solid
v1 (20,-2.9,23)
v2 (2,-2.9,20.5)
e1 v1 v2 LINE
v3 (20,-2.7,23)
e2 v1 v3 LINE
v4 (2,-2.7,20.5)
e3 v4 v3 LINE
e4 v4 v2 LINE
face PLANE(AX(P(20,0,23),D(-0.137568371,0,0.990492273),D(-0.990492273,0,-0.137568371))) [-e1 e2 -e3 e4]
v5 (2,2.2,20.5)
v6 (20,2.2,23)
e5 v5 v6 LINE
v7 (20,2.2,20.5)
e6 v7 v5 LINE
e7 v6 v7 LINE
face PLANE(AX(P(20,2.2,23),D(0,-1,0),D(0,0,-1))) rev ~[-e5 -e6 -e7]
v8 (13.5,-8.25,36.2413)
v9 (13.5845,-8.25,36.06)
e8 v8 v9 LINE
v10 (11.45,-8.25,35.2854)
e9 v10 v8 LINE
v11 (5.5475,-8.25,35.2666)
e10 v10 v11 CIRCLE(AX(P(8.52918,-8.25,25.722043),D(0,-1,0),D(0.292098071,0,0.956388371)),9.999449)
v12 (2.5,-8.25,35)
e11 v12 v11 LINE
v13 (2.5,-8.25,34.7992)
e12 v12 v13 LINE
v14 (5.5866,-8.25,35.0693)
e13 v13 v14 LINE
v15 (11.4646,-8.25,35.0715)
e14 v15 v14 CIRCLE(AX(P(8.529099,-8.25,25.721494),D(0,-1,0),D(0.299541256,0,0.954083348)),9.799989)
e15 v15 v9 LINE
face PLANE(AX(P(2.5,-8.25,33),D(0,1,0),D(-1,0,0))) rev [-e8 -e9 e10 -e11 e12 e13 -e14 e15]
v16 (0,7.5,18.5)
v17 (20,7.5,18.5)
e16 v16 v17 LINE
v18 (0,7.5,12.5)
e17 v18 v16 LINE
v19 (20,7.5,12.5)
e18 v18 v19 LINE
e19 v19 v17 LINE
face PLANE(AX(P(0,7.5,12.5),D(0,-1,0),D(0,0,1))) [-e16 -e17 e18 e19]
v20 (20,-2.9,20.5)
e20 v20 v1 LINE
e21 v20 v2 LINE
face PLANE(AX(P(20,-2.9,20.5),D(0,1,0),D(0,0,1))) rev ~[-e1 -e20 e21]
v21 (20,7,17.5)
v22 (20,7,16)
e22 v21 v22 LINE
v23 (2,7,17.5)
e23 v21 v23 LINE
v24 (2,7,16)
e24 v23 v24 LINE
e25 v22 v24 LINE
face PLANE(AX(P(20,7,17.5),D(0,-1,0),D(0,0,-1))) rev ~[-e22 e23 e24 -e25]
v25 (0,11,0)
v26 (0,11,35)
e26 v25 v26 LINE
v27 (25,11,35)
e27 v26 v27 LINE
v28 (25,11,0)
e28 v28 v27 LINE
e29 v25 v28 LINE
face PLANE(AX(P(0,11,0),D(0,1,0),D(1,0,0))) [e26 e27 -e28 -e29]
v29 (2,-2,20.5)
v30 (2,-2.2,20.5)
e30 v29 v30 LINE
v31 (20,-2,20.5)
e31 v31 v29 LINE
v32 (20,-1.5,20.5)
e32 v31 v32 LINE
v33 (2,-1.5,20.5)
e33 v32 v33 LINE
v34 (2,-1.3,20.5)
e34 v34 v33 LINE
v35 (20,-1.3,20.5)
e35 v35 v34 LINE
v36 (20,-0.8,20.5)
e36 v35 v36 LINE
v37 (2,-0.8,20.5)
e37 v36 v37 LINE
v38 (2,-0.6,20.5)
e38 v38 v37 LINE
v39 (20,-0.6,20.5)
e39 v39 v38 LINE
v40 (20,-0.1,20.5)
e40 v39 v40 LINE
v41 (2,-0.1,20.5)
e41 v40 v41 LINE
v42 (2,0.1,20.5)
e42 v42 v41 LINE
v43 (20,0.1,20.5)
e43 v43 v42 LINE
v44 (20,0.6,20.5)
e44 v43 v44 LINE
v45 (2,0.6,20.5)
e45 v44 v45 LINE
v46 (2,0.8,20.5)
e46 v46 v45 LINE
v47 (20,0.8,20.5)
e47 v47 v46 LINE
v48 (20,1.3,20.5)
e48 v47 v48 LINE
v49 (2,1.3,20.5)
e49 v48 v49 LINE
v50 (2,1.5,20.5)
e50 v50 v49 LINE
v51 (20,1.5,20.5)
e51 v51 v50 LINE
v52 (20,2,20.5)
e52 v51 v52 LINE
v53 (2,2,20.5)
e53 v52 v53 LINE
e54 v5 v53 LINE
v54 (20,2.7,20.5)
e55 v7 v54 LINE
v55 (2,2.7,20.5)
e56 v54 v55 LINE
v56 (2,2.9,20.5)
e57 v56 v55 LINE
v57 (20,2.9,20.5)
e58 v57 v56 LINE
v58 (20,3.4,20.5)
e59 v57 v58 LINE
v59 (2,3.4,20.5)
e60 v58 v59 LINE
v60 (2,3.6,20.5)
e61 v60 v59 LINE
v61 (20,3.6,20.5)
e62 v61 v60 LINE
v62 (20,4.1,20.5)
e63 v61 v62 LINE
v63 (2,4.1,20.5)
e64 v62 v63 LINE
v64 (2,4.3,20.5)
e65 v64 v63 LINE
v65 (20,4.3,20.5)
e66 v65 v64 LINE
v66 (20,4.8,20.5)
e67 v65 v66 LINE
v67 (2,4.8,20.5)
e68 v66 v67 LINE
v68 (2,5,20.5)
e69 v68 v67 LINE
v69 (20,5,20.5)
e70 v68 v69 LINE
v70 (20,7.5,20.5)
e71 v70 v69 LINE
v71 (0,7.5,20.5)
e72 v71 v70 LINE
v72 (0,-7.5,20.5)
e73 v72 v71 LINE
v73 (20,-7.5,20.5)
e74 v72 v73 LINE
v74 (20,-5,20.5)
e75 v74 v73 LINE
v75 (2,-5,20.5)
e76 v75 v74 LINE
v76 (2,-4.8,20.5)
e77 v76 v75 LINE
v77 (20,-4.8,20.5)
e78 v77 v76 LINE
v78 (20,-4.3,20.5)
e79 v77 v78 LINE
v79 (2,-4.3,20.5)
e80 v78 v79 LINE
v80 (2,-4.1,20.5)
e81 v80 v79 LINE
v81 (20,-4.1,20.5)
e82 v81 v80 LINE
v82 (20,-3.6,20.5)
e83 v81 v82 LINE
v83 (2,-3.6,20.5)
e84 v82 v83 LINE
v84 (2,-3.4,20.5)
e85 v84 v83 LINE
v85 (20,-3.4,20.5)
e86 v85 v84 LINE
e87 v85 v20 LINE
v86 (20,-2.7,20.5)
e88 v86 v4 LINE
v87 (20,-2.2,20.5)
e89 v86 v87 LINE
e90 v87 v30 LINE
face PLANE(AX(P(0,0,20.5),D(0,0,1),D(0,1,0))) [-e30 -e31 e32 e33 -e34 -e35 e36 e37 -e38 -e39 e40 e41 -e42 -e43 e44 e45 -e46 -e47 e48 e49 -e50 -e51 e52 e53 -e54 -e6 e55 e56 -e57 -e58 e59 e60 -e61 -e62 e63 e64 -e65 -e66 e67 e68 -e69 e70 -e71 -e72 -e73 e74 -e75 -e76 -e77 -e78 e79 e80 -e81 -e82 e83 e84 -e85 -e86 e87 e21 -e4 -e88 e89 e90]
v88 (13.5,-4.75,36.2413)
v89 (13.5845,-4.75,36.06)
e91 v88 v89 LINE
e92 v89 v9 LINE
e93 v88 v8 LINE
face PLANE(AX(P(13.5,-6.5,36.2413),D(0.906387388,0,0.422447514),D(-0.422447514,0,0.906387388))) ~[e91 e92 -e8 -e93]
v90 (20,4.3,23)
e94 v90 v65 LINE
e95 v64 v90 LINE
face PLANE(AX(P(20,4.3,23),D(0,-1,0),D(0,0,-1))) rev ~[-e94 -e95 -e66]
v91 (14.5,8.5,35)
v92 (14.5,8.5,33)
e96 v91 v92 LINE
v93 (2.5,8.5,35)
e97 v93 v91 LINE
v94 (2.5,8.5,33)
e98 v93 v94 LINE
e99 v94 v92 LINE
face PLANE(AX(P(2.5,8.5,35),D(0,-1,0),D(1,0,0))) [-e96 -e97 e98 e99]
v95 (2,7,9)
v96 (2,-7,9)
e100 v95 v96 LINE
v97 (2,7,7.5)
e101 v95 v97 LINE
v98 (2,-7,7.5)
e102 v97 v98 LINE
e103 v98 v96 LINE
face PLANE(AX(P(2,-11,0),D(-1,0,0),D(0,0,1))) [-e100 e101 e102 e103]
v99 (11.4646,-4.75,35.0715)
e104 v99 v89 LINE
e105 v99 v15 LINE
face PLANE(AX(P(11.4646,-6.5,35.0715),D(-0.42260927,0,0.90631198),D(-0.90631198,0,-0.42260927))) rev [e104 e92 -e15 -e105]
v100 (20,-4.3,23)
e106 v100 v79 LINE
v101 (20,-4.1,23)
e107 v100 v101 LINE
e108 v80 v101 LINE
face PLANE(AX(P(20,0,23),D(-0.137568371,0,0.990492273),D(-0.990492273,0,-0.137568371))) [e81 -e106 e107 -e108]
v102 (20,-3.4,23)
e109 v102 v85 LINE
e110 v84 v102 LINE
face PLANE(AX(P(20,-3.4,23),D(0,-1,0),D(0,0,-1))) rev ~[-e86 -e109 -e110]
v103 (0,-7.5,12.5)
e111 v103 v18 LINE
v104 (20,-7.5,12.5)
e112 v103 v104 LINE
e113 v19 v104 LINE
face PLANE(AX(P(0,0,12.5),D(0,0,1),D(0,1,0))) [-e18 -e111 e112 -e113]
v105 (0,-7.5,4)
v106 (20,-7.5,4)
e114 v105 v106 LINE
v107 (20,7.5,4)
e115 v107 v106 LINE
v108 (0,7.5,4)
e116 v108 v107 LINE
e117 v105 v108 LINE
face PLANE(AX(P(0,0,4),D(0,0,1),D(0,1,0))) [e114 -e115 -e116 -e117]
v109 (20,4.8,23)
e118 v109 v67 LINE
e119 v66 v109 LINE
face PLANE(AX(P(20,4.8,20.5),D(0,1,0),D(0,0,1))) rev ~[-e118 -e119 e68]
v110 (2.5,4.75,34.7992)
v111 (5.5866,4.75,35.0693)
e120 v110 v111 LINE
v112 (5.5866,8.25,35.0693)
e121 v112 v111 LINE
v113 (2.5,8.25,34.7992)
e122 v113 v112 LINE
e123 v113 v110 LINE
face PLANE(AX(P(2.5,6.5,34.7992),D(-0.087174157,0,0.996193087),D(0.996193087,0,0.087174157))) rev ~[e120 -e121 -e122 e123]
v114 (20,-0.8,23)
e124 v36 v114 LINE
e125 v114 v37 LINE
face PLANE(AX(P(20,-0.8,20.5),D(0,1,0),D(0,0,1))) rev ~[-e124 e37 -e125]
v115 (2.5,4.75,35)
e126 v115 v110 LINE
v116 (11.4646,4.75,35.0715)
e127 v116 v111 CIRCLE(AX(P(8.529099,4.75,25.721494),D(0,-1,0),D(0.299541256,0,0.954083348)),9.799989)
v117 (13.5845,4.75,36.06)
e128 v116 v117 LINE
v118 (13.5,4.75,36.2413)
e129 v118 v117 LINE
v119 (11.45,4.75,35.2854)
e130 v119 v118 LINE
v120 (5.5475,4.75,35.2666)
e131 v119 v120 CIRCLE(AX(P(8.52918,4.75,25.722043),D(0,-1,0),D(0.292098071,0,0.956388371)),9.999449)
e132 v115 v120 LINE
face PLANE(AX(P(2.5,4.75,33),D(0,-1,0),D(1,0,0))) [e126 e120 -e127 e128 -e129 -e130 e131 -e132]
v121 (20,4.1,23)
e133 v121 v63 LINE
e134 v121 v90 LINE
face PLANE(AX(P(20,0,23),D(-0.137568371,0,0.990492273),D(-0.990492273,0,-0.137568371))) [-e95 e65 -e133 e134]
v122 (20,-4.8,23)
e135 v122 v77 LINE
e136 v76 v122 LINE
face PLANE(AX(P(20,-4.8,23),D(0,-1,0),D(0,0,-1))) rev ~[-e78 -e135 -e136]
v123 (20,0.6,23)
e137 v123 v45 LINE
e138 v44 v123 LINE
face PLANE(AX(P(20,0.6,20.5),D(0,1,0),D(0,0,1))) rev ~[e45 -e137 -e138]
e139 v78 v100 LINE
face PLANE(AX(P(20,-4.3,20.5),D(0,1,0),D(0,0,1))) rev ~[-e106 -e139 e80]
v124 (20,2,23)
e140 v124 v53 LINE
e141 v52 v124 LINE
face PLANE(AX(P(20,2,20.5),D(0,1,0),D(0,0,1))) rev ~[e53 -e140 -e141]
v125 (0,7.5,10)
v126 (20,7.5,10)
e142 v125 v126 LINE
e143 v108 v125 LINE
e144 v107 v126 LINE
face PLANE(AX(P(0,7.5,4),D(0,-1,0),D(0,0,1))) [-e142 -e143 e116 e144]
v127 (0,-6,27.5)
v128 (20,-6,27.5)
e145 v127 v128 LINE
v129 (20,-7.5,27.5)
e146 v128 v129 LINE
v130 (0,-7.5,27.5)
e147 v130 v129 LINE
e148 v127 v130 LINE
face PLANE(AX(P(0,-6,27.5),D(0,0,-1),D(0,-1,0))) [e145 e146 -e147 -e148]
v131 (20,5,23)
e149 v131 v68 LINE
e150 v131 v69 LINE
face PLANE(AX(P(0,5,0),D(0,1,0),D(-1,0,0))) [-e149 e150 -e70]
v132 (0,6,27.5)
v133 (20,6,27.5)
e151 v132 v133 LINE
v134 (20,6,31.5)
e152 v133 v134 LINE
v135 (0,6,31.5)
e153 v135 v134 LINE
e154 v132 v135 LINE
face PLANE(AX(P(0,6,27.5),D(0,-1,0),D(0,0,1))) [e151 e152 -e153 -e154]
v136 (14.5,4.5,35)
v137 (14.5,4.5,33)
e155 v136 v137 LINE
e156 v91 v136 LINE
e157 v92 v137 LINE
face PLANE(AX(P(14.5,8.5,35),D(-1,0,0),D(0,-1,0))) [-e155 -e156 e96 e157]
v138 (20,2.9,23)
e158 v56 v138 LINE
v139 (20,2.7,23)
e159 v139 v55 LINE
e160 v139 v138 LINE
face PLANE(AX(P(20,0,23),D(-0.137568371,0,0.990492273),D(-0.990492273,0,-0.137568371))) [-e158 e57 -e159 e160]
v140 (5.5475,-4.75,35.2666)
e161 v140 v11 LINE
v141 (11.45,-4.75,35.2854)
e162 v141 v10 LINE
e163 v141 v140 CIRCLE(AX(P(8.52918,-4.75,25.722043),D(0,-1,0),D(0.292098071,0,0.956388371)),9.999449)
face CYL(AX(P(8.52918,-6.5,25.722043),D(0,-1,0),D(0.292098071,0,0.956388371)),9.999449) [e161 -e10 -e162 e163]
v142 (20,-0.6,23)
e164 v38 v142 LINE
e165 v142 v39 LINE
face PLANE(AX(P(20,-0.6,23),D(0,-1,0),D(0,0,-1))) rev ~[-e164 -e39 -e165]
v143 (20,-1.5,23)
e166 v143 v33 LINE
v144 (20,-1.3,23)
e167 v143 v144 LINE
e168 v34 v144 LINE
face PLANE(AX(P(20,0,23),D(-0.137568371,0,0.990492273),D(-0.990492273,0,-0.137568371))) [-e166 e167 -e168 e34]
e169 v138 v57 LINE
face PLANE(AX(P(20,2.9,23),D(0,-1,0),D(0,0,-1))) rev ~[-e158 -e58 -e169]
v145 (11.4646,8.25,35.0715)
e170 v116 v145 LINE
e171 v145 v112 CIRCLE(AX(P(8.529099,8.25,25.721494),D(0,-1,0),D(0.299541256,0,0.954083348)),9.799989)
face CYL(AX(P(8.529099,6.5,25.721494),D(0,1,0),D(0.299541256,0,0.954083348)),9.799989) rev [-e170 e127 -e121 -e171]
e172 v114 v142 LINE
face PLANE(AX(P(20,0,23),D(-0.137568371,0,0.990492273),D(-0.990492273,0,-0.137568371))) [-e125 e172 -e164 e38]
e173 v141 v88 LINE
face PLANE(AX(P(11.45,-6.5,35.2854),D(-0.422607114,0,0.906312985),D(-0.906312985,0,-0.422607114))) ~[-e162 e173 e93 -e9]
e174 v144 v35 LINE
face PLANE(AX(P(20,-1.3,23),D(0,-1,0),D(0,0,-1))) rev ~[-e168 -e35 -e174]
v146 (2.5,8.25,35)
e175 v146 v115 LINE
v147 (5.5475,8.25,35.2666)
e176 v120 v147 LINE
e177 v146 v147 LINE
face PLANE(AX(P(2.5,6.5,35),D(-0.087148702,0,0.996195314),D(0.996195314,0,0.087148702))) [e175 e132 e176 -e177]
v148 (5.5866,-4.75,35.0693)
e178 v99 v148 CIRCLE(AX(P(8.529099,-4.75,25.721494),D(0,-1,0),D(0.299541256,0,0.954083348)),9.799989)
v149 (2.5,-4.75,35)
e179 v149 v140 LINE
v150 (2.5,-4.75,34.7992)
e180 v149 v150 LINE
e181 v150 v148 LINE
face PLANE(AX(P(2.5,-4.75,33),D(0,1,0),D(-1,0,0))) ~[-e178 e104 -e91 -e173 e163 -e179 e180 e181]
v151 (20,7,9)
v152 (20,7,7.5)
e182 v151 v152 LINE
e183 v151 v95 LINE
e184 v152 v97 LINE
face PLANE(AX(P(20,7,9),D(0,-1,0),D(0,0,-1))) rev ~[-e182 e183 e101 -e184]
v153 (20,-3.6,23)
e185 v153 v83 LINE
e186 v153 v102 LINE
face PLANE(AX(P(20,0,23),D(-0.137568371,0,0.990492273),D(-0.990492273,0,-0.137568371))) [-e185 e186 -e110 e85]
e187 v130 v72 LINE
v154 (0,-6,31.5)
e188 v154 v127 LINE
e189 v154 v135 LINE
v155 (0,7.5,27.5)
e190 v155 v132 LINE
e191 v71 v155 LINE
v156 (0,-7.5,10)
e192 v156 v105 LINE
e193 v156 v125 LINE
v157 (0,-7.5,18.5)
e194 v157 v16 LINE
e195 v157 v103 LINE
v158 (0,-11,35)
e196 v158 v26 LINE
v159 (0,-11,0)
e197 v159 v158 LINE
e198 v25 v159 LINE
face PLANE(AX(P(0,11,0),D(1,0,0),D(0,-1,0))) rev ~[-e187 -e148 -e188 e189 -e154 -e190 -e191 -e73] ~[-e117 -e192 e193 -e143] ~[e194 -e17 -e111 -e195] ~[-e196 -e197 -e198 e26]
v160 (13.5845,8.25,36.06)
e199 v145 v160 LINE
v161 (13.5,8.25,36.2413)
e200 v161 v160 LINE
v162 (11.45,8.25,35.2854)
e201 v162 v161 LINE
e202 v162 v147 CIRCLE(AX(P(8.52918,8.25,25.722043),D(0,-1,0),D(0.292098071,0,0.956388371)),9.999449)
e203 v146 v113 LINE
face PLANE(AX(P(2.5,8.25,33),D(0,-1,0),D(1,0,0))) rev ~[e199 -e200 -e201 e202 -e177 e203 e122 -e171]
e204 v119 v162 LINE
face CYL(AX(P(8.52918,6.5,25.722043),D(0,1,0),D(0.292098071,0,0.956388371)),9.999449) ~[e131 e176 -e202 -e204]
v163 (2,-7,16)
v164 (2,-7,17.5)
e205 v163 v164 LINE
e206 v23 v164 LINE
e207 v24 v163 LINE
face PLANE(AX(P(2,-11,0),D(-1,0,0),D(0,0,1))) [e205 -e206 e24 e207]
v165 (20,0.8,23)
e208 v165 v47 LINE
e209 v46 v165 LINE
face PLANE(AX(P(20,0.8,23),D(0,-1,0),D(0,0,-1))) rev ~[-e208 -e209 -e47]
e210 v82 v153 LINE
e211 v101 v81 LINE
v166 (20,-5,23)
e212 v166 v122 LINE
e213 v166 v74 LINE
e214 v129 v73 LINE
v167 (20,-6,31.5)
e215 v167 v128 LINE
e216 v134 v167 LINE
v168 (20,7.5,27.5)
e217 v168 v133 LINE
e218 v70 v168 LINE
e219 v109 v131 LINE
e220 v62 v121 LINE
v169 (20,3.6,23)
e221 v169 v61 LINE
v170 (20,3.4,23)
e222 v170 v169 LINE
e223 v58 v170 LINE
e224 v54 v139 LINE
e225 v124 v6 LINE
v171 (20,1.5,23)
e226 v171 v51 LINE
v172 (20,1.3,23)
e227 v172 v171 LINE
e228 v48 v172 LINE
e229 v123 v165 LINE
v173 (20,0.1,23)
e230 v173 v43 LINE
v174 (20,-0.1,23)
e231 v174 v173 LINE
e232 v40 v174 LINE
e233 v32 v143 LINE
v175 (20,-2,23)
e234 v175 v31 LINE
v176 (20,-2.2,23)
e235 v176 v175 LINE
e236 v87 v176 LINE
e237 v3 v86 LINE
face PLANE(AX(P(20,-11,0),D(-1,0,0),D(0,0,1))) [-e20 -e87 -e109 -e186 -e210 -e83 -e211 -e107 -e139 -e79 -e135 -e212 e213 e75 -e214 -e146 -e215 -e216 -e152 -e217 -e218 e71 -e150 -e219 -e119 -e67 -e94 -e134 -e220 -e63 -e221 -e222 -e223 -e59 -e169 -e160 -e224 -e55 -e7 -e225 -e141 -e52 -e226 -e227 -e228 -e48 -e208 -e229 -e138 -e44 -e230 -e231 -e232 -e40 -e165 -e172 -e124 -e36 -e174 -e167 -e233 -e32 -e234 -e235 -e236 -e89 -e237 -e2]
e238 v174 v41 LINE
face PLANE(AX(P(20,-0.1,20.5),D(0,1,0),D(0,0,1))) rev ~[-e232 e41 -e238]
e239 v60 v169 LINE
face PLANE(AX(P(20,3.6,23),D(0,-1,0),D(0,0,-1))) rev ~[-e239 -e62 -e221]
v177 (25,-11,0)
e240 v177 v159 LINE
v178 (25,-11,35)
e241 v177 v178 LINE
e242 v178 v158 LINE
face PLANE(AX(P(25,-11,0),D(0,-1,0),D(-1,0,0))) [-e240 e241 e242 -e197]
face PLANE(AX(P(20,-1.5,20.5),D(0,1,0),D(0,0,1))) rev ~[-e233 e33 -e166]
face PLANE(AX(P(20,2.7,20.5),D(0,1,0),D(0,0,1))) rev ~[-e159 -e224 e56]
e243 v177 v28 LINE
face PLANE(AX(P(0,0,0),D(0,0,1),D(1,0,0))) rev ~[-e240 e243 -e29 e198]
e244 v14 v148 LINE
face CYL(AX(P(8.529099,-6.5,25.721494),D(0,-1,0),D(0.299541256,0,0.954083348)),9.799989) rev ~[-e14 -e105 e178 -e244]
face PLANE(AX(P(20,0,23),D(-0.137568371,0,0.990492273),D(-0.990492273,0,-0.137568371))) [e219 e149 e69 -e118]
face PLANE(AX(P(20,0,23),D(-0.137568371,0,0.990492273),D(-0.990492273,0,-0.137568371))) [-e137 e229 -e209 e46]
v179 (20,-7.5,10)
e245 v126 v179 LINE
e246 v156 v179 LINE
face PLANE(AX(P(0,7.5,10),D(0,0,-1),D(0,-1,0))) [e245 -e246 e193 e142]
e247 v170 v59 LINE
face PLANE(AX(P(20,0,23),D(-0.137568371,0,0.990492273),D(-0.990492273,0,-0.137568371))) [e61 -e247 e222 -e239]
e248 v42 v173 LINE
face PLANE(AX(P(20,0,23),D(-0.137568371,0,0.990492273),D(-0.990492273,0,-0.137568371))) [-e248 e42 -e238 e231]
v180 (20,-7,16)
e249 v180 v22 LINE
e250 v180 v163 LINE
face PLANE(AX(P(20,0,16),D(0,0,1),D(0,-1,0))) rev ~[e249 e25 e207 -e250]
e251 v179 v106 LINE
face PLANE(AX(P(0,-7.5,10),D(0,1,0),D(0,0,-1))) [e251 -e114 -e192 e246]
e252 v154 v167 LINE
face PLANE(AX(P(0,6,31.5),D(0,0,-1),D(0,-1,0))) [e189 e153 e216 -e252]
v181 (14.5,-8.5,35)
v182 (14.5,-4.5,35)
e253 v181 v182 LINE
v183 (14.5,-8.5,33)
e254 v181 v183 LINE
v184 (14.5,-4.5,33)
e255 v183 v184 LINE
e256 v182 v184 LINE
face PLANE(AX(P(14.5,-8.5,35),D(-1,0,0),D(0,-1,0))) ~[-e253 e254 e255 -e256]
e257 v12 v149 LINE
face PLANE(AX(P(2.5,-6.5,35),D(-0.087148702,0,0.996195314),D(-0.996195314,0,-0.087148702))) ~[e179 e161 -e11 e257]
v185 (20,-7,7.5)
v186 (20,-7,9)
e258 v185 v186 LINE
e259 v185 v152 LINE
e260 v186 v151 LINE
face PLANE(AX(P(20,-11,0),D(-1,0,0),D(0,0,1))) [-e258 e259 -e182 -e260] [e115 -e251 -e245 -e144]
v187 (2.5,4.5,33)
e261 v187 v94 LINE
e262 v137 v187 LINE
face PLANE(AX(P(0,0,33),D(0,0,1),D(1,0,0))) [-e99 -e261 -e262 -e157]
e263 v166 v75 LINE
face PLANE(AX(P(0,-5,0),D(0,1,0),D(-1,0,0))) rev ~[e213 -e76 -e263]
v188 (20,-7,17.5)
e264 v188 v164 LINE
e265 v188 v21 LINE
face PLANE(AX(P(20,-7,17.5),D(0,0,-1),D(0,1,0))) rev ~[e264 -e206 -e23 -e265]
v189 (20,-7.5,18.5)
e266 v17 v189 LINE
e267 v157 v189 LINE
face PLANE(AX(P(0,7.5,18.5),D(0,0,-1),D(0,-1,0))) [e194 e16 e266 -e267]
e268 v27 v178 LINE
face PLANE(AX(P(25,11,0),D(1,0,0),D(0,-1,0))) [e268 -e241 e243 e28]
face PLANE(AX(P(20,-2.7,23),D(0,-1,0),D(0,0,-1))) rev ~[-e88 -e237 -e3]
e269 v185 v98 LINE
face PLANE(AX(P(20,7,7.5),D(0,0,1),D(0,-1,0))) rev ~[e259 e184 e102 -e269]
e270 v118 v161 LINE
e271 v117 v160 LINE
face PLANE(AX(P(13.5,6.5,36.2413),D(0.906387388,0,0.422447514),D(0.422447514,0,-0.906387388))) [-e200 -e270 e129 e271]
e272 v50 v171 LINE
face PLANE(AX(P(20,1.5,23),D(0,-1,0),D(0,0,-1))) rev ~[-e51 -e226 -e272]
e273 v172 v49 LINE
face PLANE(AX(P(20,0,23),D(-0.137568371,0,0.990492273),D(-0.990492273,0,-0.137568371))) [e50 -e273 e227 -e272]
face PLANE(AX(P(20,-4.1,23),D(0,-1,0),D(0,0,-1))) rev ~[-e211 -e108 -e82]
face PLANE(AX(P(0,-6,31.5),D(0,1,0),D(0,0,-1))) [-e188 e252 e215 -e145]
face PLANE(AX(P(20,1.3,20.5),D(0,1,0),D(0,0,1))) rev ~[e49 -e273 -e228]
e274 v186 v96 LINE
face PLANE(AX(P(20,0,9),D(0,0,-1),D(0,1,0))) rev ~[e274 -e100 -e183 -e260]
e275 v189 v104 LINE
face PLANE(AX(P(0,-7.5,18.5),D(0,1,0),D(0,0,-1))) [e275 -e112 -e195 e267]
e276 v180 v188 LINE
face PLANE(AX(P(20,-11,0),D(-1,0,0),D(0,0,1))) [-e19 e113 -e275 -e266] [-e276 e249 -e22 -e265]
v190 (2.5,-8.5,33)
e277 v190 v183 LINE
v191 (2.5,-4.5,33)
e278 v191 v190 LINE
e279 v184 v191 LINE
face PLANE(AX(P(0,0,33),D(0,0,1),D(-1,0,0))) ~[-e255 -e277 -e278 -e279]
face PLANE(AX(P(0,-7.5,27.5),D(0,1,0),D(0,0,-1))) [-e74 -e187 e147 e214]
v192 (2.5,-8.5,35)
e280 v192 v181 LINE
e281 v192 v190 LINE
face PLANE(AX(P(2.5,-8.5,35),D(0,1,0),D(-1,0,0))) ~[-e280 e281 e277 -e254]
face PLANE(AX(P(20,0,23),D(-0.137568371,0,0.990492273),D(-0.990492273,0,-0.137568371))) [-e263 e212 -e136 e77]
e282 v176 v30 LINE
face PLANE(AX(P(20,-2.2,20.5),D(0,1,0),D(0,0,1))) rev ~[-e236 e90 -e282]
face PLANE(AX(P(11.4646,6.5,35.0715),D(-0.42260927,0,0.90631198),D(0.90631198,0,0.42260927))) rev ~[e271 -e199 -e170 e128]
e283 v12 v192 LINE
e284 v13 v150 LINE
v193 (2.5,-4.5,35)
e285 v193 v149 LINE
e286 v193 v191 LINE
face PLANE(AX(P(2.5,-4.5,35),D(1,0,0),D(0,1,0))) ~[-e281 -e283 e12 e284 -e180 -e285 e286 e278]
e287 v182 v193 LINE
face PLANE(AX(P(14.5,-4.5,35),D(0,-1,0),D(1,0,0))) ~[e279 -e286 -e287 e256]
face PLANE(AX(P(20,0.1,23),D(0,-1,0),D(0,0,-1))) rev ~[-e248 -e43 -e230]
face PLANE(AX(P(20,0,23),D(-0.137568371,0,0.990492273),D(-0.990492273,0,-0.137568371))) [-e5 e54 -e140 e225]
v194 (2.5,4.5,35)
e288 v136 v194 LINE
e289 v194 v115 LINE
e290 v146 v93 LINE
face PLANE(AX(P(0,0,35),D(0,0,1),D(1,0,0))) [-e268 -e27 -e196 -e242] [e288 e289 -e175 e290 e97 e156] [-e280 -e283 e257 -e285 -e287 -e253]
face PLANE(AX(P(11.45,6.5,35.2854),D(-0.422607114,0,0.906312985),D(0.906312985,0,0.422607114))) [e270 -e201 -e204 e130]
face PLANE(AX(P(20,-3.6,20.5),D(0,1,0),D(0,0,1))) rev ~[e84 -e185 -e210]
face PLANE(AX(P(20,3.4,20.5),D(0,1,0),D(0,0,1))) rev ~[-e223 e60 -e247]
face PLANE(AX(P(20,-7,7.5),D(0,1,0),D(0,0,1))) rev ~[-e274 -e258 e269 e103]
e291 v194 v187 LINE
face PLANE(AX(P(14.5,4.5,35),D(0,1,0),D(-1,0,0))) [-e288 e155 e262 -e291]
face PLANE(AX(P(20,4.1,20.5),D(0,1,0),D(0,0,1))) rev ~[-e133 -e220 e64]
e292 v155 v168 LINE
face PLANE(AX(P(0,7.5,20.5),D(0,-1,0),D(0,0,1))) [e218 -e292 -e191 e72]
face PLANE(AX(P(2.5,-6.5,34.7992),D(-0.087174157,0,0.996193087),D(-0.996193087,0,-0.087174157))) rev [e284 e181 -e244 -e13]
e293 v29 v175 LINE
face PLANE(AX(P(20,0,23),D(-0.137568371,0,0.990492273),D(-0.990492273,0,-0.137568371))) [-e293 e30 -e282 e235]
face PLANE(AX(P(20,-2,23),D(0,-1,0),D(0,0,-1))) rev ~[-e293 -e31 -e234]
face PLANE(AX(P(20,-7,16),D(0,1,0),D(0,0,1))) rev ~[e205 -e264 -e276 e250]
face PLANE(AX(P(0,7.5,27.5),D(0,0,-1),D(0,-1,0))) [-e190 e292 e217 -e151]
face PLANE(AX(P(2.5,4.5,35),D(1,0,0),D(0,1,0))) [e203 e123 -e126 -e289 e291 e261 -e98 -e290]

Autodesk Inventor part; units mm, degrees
ref_plane "YZ Plane" through (0, 0, 0) normal (1, 0, 0) x (0, 1, 0)
ref_plane "XZ Plane" through (0, 0, 0) normal (0, 1, 0) x (-1, 0, 0)
sketch "Sketch1" plane through (0, 0, 0) normal (0, 0, 1) x (1, 0, 0)
  line L0 (0, 17.6) -> (0, -13.2) projected
  line L1 (-2.5, 0) -> (32.5, 0) projected
  line L2 (0, 11) -> (25, 11)
  line L3 (25, 11) -> (25, -11)
  line L4 (25, -11) -> (0, -11)
  line L5 (0, -11) -> (0, 11)
  dimension "d0" = 22
  dimension "d1" = 25
extrude "Extrusion1" add sketch "Sketch1" along normal blind 35
sketch "Sketch2" plane through (0, -11, 0) normal (-1, 0, 0) x (0, 0, 1)
  line L0 (0, 0) -> (0, 22) projected
  line L1 (-3.5, 11) -> (45.5, 11) projected
  line L2 (4, 18.5) -> (10, 18.5)
  line L3 (10, 18.5) -> (10, 3.5)
  line L4 (10, 3.5) -> (4, 3.5)
  line L5 (4, 3.5) -> (4, 18.5)
  line L6 (12.5, 18.5) -> (18.5, 18.5)
  line L7 (18.5, 18.5) -> (18.5, 3.5)
  line L8 (18.5, 3.5) -> (12.5, 3.5)
  line L9 (12.5, 3.5) -> (12.5, 18.5)
  line L10 (20.5, 18.5) -> (27.5, 18.5)
  line L11 (27.5, 18.5) -> (27.5, 3.5)
  line L12 (27.5, 3.5) -> (20.5, 3.5)
  line L13 (20.5, 3.5) -> (20.5, 18.5)
  line L14 (27.5, 17) -> (31.5, 17)
  line L15 (31.5, 17) -> (31.5, 5)
  line L16 (31.5, 5) -> (27.5, 5)
  line L17 (27.5, 5) -> (27.5, 17)
  dimension "d4" = 4
  dimension "d5" = 15
  dimension "d6" = 2.5
  dimension "d7" = 6
  dimension "d8" = 11
  dimension "d9" = 2
  dimension "d10" = 7
  dimension "d11" = 12
extrude "Extrusion2" cut sketch "Sketch2" against normal blind 20
sketch "Sketch3" plane through (20, -11, 0) normal (-1, 0, 0) x (0, 0, 1)
  line L0 (10, 3.5) -> (10, 18.5) projected
  line L1 (9, 18) -> (7.5, 18)
  line L2 (7.5, 18) -> (7.5, 4)
  line L3 (7.5, 4) -> (9, 4)
  line L4 (9, 4) -> (9, 18)
  line L5 (17.5, 18) -> (16, 18)
  line L6 (16, 18) -> (16, 4)
  line L7 (16, 4) -> (17.5, 4)
  line L8 (17.5, 4) -> (17.5, 18)
  line L9 (12.5, 18.5) -> (12.5, 3.5) projected
  line L10 (12.5, 3.5) -> (18.5, 3.5) projected
  line L11 (18.5, 3.5) -> (18.5, 18.5) projected
  line L12 (18.5, 18.5) -> (12.5, 18.5) projected
  line L13 (-3.5, 11) -> (45.5, 11) projected
  dimension "d14" = 1.5
  dimension "d15" = 1
  dimension "d16" = 1
  dimension "d17" = 14
extrude "Extrusion3" add sketch "Sketch3" along normal blind 18 contours L4 L13 L2 L1 | L4 L3 L2 L13 | L13 L8 L7 L6 | L6 L5 L8 L13
sketch "Sketch4" plane through (0, 0, 0) normal (0, 1, 0) x (-1, 0, 0)
  line L0 (-20, 27.5) -> (-20, 20.5) projected
  line L1 (0, 20.5) -> (-20, 20.5) projected
  line L2 (-20, 23) -> (-2, 20.5)
  line L3 (0, 0) -> (0, 35) projected
  dimension "d20" = 2
  dimension "d21" = 2.5
extrude "Extrusion4" add sketch "Sketch4" along normal mid plane 10
sketch "Sketch5" plane through (20, -11, 0) normal (-1, 0, 0) x (0, 0, 1)
  line L0 (20.5, 16) -> (23, 16) projected
  line L1 (23, 16) -> (23, 6) projected
  line L2 (20.5, 3.5) -> (20.5, 18.5) projected
  line L3 (20.5, 15.8) -> (23, 15.8)
  line L4 (23, 15.8) -> (23, 15.3)
  line L5 (23, 15.3) -> (20.5, 15.3)
  line L6 (20.5, 15.3) -> (20.5, 15.8)
  dimension "d24" = 0.2
  dimension "d25" = 0.5
extrude "Extrusion5" cut sketch "Sketch5" along normal through all contours L3 L1 L5 L2
pattern_linear "Rectangular Pattern1" count 14 spacing 0.7 along (0, -1, 0) of "Extrusion5"
sketch "Sketch6" plane through (0, 0, 35) normal (0, 0, 1) x (1, 0, 0)
  line L0 (0, 11) -> (25, 11) projected
  line L1 (0, -11) -> (0, 11) projected
  line L2 (2.5, 8.5) -> (14.5, 8.5)
  line L3 (14.5, 8.5) -> (14.5, 4.5)
  line L4 (14.5, 4.5) -> (2.5, 4.5)
  line L5 (2.5, 4.5) -> (2.5, 8.5)
  dimension "d31" = 2.5
  dimension "d32" = 12
  dimension "d33" = 4
  dimension "d34" = 2.5
extrude "Extrusion6" cut sketch "Sketch6" against normal blind 2
ref_plane "Work Plane1" through (2.5, 6.5, 33) normal (0, -1, 0) x (1, 0, 0)
sketch "Sketch7" plane through (2.5, 6.5, 33) normal (0, -1, 0) x (1, 0, 0)
  line L0 (0, 2) -> (0, 0) construction
  line L1 (0, 2) -> (3.0475, 2.2666)
  line L2 (8.95, 2.2854) -> (11, 3.2413)
  arc A0 (8.95, 2.2854) -> (3.0475, 2.2666) centre (6.0291, -7.2785) ccw
  line L3 (0, 1.7992) -> (3.0866, 2.0693)
  arc A1 (8.9646, 2.0715) -> (3.0866, 2.0693) centre (6.0291, -7.2785) ccw
  line L4 (8.9646, 2.0715) -> (11.0845, 3.06)
  line L5 (11, 3.2413) -> (11.0845, 3.06)
  line L6 (0, 2) -> (0, 1.7992)
  dimension "d37" = 11
  dimension "d38" = 95
  dimension "d39" = 10
  dimension "d40" = 65
  dimension "d41" = 0.2
extrude "Extrusion7" add sketch "Sketch7" along normal mid plane 3.5
mirror "Mirror1" about plane through (0, 0, 0) normal (0, 1, 0) of "Extrusion6", "Extrusion7"
equation "\"d16\" = d15"
properties part number "config - nic module"
